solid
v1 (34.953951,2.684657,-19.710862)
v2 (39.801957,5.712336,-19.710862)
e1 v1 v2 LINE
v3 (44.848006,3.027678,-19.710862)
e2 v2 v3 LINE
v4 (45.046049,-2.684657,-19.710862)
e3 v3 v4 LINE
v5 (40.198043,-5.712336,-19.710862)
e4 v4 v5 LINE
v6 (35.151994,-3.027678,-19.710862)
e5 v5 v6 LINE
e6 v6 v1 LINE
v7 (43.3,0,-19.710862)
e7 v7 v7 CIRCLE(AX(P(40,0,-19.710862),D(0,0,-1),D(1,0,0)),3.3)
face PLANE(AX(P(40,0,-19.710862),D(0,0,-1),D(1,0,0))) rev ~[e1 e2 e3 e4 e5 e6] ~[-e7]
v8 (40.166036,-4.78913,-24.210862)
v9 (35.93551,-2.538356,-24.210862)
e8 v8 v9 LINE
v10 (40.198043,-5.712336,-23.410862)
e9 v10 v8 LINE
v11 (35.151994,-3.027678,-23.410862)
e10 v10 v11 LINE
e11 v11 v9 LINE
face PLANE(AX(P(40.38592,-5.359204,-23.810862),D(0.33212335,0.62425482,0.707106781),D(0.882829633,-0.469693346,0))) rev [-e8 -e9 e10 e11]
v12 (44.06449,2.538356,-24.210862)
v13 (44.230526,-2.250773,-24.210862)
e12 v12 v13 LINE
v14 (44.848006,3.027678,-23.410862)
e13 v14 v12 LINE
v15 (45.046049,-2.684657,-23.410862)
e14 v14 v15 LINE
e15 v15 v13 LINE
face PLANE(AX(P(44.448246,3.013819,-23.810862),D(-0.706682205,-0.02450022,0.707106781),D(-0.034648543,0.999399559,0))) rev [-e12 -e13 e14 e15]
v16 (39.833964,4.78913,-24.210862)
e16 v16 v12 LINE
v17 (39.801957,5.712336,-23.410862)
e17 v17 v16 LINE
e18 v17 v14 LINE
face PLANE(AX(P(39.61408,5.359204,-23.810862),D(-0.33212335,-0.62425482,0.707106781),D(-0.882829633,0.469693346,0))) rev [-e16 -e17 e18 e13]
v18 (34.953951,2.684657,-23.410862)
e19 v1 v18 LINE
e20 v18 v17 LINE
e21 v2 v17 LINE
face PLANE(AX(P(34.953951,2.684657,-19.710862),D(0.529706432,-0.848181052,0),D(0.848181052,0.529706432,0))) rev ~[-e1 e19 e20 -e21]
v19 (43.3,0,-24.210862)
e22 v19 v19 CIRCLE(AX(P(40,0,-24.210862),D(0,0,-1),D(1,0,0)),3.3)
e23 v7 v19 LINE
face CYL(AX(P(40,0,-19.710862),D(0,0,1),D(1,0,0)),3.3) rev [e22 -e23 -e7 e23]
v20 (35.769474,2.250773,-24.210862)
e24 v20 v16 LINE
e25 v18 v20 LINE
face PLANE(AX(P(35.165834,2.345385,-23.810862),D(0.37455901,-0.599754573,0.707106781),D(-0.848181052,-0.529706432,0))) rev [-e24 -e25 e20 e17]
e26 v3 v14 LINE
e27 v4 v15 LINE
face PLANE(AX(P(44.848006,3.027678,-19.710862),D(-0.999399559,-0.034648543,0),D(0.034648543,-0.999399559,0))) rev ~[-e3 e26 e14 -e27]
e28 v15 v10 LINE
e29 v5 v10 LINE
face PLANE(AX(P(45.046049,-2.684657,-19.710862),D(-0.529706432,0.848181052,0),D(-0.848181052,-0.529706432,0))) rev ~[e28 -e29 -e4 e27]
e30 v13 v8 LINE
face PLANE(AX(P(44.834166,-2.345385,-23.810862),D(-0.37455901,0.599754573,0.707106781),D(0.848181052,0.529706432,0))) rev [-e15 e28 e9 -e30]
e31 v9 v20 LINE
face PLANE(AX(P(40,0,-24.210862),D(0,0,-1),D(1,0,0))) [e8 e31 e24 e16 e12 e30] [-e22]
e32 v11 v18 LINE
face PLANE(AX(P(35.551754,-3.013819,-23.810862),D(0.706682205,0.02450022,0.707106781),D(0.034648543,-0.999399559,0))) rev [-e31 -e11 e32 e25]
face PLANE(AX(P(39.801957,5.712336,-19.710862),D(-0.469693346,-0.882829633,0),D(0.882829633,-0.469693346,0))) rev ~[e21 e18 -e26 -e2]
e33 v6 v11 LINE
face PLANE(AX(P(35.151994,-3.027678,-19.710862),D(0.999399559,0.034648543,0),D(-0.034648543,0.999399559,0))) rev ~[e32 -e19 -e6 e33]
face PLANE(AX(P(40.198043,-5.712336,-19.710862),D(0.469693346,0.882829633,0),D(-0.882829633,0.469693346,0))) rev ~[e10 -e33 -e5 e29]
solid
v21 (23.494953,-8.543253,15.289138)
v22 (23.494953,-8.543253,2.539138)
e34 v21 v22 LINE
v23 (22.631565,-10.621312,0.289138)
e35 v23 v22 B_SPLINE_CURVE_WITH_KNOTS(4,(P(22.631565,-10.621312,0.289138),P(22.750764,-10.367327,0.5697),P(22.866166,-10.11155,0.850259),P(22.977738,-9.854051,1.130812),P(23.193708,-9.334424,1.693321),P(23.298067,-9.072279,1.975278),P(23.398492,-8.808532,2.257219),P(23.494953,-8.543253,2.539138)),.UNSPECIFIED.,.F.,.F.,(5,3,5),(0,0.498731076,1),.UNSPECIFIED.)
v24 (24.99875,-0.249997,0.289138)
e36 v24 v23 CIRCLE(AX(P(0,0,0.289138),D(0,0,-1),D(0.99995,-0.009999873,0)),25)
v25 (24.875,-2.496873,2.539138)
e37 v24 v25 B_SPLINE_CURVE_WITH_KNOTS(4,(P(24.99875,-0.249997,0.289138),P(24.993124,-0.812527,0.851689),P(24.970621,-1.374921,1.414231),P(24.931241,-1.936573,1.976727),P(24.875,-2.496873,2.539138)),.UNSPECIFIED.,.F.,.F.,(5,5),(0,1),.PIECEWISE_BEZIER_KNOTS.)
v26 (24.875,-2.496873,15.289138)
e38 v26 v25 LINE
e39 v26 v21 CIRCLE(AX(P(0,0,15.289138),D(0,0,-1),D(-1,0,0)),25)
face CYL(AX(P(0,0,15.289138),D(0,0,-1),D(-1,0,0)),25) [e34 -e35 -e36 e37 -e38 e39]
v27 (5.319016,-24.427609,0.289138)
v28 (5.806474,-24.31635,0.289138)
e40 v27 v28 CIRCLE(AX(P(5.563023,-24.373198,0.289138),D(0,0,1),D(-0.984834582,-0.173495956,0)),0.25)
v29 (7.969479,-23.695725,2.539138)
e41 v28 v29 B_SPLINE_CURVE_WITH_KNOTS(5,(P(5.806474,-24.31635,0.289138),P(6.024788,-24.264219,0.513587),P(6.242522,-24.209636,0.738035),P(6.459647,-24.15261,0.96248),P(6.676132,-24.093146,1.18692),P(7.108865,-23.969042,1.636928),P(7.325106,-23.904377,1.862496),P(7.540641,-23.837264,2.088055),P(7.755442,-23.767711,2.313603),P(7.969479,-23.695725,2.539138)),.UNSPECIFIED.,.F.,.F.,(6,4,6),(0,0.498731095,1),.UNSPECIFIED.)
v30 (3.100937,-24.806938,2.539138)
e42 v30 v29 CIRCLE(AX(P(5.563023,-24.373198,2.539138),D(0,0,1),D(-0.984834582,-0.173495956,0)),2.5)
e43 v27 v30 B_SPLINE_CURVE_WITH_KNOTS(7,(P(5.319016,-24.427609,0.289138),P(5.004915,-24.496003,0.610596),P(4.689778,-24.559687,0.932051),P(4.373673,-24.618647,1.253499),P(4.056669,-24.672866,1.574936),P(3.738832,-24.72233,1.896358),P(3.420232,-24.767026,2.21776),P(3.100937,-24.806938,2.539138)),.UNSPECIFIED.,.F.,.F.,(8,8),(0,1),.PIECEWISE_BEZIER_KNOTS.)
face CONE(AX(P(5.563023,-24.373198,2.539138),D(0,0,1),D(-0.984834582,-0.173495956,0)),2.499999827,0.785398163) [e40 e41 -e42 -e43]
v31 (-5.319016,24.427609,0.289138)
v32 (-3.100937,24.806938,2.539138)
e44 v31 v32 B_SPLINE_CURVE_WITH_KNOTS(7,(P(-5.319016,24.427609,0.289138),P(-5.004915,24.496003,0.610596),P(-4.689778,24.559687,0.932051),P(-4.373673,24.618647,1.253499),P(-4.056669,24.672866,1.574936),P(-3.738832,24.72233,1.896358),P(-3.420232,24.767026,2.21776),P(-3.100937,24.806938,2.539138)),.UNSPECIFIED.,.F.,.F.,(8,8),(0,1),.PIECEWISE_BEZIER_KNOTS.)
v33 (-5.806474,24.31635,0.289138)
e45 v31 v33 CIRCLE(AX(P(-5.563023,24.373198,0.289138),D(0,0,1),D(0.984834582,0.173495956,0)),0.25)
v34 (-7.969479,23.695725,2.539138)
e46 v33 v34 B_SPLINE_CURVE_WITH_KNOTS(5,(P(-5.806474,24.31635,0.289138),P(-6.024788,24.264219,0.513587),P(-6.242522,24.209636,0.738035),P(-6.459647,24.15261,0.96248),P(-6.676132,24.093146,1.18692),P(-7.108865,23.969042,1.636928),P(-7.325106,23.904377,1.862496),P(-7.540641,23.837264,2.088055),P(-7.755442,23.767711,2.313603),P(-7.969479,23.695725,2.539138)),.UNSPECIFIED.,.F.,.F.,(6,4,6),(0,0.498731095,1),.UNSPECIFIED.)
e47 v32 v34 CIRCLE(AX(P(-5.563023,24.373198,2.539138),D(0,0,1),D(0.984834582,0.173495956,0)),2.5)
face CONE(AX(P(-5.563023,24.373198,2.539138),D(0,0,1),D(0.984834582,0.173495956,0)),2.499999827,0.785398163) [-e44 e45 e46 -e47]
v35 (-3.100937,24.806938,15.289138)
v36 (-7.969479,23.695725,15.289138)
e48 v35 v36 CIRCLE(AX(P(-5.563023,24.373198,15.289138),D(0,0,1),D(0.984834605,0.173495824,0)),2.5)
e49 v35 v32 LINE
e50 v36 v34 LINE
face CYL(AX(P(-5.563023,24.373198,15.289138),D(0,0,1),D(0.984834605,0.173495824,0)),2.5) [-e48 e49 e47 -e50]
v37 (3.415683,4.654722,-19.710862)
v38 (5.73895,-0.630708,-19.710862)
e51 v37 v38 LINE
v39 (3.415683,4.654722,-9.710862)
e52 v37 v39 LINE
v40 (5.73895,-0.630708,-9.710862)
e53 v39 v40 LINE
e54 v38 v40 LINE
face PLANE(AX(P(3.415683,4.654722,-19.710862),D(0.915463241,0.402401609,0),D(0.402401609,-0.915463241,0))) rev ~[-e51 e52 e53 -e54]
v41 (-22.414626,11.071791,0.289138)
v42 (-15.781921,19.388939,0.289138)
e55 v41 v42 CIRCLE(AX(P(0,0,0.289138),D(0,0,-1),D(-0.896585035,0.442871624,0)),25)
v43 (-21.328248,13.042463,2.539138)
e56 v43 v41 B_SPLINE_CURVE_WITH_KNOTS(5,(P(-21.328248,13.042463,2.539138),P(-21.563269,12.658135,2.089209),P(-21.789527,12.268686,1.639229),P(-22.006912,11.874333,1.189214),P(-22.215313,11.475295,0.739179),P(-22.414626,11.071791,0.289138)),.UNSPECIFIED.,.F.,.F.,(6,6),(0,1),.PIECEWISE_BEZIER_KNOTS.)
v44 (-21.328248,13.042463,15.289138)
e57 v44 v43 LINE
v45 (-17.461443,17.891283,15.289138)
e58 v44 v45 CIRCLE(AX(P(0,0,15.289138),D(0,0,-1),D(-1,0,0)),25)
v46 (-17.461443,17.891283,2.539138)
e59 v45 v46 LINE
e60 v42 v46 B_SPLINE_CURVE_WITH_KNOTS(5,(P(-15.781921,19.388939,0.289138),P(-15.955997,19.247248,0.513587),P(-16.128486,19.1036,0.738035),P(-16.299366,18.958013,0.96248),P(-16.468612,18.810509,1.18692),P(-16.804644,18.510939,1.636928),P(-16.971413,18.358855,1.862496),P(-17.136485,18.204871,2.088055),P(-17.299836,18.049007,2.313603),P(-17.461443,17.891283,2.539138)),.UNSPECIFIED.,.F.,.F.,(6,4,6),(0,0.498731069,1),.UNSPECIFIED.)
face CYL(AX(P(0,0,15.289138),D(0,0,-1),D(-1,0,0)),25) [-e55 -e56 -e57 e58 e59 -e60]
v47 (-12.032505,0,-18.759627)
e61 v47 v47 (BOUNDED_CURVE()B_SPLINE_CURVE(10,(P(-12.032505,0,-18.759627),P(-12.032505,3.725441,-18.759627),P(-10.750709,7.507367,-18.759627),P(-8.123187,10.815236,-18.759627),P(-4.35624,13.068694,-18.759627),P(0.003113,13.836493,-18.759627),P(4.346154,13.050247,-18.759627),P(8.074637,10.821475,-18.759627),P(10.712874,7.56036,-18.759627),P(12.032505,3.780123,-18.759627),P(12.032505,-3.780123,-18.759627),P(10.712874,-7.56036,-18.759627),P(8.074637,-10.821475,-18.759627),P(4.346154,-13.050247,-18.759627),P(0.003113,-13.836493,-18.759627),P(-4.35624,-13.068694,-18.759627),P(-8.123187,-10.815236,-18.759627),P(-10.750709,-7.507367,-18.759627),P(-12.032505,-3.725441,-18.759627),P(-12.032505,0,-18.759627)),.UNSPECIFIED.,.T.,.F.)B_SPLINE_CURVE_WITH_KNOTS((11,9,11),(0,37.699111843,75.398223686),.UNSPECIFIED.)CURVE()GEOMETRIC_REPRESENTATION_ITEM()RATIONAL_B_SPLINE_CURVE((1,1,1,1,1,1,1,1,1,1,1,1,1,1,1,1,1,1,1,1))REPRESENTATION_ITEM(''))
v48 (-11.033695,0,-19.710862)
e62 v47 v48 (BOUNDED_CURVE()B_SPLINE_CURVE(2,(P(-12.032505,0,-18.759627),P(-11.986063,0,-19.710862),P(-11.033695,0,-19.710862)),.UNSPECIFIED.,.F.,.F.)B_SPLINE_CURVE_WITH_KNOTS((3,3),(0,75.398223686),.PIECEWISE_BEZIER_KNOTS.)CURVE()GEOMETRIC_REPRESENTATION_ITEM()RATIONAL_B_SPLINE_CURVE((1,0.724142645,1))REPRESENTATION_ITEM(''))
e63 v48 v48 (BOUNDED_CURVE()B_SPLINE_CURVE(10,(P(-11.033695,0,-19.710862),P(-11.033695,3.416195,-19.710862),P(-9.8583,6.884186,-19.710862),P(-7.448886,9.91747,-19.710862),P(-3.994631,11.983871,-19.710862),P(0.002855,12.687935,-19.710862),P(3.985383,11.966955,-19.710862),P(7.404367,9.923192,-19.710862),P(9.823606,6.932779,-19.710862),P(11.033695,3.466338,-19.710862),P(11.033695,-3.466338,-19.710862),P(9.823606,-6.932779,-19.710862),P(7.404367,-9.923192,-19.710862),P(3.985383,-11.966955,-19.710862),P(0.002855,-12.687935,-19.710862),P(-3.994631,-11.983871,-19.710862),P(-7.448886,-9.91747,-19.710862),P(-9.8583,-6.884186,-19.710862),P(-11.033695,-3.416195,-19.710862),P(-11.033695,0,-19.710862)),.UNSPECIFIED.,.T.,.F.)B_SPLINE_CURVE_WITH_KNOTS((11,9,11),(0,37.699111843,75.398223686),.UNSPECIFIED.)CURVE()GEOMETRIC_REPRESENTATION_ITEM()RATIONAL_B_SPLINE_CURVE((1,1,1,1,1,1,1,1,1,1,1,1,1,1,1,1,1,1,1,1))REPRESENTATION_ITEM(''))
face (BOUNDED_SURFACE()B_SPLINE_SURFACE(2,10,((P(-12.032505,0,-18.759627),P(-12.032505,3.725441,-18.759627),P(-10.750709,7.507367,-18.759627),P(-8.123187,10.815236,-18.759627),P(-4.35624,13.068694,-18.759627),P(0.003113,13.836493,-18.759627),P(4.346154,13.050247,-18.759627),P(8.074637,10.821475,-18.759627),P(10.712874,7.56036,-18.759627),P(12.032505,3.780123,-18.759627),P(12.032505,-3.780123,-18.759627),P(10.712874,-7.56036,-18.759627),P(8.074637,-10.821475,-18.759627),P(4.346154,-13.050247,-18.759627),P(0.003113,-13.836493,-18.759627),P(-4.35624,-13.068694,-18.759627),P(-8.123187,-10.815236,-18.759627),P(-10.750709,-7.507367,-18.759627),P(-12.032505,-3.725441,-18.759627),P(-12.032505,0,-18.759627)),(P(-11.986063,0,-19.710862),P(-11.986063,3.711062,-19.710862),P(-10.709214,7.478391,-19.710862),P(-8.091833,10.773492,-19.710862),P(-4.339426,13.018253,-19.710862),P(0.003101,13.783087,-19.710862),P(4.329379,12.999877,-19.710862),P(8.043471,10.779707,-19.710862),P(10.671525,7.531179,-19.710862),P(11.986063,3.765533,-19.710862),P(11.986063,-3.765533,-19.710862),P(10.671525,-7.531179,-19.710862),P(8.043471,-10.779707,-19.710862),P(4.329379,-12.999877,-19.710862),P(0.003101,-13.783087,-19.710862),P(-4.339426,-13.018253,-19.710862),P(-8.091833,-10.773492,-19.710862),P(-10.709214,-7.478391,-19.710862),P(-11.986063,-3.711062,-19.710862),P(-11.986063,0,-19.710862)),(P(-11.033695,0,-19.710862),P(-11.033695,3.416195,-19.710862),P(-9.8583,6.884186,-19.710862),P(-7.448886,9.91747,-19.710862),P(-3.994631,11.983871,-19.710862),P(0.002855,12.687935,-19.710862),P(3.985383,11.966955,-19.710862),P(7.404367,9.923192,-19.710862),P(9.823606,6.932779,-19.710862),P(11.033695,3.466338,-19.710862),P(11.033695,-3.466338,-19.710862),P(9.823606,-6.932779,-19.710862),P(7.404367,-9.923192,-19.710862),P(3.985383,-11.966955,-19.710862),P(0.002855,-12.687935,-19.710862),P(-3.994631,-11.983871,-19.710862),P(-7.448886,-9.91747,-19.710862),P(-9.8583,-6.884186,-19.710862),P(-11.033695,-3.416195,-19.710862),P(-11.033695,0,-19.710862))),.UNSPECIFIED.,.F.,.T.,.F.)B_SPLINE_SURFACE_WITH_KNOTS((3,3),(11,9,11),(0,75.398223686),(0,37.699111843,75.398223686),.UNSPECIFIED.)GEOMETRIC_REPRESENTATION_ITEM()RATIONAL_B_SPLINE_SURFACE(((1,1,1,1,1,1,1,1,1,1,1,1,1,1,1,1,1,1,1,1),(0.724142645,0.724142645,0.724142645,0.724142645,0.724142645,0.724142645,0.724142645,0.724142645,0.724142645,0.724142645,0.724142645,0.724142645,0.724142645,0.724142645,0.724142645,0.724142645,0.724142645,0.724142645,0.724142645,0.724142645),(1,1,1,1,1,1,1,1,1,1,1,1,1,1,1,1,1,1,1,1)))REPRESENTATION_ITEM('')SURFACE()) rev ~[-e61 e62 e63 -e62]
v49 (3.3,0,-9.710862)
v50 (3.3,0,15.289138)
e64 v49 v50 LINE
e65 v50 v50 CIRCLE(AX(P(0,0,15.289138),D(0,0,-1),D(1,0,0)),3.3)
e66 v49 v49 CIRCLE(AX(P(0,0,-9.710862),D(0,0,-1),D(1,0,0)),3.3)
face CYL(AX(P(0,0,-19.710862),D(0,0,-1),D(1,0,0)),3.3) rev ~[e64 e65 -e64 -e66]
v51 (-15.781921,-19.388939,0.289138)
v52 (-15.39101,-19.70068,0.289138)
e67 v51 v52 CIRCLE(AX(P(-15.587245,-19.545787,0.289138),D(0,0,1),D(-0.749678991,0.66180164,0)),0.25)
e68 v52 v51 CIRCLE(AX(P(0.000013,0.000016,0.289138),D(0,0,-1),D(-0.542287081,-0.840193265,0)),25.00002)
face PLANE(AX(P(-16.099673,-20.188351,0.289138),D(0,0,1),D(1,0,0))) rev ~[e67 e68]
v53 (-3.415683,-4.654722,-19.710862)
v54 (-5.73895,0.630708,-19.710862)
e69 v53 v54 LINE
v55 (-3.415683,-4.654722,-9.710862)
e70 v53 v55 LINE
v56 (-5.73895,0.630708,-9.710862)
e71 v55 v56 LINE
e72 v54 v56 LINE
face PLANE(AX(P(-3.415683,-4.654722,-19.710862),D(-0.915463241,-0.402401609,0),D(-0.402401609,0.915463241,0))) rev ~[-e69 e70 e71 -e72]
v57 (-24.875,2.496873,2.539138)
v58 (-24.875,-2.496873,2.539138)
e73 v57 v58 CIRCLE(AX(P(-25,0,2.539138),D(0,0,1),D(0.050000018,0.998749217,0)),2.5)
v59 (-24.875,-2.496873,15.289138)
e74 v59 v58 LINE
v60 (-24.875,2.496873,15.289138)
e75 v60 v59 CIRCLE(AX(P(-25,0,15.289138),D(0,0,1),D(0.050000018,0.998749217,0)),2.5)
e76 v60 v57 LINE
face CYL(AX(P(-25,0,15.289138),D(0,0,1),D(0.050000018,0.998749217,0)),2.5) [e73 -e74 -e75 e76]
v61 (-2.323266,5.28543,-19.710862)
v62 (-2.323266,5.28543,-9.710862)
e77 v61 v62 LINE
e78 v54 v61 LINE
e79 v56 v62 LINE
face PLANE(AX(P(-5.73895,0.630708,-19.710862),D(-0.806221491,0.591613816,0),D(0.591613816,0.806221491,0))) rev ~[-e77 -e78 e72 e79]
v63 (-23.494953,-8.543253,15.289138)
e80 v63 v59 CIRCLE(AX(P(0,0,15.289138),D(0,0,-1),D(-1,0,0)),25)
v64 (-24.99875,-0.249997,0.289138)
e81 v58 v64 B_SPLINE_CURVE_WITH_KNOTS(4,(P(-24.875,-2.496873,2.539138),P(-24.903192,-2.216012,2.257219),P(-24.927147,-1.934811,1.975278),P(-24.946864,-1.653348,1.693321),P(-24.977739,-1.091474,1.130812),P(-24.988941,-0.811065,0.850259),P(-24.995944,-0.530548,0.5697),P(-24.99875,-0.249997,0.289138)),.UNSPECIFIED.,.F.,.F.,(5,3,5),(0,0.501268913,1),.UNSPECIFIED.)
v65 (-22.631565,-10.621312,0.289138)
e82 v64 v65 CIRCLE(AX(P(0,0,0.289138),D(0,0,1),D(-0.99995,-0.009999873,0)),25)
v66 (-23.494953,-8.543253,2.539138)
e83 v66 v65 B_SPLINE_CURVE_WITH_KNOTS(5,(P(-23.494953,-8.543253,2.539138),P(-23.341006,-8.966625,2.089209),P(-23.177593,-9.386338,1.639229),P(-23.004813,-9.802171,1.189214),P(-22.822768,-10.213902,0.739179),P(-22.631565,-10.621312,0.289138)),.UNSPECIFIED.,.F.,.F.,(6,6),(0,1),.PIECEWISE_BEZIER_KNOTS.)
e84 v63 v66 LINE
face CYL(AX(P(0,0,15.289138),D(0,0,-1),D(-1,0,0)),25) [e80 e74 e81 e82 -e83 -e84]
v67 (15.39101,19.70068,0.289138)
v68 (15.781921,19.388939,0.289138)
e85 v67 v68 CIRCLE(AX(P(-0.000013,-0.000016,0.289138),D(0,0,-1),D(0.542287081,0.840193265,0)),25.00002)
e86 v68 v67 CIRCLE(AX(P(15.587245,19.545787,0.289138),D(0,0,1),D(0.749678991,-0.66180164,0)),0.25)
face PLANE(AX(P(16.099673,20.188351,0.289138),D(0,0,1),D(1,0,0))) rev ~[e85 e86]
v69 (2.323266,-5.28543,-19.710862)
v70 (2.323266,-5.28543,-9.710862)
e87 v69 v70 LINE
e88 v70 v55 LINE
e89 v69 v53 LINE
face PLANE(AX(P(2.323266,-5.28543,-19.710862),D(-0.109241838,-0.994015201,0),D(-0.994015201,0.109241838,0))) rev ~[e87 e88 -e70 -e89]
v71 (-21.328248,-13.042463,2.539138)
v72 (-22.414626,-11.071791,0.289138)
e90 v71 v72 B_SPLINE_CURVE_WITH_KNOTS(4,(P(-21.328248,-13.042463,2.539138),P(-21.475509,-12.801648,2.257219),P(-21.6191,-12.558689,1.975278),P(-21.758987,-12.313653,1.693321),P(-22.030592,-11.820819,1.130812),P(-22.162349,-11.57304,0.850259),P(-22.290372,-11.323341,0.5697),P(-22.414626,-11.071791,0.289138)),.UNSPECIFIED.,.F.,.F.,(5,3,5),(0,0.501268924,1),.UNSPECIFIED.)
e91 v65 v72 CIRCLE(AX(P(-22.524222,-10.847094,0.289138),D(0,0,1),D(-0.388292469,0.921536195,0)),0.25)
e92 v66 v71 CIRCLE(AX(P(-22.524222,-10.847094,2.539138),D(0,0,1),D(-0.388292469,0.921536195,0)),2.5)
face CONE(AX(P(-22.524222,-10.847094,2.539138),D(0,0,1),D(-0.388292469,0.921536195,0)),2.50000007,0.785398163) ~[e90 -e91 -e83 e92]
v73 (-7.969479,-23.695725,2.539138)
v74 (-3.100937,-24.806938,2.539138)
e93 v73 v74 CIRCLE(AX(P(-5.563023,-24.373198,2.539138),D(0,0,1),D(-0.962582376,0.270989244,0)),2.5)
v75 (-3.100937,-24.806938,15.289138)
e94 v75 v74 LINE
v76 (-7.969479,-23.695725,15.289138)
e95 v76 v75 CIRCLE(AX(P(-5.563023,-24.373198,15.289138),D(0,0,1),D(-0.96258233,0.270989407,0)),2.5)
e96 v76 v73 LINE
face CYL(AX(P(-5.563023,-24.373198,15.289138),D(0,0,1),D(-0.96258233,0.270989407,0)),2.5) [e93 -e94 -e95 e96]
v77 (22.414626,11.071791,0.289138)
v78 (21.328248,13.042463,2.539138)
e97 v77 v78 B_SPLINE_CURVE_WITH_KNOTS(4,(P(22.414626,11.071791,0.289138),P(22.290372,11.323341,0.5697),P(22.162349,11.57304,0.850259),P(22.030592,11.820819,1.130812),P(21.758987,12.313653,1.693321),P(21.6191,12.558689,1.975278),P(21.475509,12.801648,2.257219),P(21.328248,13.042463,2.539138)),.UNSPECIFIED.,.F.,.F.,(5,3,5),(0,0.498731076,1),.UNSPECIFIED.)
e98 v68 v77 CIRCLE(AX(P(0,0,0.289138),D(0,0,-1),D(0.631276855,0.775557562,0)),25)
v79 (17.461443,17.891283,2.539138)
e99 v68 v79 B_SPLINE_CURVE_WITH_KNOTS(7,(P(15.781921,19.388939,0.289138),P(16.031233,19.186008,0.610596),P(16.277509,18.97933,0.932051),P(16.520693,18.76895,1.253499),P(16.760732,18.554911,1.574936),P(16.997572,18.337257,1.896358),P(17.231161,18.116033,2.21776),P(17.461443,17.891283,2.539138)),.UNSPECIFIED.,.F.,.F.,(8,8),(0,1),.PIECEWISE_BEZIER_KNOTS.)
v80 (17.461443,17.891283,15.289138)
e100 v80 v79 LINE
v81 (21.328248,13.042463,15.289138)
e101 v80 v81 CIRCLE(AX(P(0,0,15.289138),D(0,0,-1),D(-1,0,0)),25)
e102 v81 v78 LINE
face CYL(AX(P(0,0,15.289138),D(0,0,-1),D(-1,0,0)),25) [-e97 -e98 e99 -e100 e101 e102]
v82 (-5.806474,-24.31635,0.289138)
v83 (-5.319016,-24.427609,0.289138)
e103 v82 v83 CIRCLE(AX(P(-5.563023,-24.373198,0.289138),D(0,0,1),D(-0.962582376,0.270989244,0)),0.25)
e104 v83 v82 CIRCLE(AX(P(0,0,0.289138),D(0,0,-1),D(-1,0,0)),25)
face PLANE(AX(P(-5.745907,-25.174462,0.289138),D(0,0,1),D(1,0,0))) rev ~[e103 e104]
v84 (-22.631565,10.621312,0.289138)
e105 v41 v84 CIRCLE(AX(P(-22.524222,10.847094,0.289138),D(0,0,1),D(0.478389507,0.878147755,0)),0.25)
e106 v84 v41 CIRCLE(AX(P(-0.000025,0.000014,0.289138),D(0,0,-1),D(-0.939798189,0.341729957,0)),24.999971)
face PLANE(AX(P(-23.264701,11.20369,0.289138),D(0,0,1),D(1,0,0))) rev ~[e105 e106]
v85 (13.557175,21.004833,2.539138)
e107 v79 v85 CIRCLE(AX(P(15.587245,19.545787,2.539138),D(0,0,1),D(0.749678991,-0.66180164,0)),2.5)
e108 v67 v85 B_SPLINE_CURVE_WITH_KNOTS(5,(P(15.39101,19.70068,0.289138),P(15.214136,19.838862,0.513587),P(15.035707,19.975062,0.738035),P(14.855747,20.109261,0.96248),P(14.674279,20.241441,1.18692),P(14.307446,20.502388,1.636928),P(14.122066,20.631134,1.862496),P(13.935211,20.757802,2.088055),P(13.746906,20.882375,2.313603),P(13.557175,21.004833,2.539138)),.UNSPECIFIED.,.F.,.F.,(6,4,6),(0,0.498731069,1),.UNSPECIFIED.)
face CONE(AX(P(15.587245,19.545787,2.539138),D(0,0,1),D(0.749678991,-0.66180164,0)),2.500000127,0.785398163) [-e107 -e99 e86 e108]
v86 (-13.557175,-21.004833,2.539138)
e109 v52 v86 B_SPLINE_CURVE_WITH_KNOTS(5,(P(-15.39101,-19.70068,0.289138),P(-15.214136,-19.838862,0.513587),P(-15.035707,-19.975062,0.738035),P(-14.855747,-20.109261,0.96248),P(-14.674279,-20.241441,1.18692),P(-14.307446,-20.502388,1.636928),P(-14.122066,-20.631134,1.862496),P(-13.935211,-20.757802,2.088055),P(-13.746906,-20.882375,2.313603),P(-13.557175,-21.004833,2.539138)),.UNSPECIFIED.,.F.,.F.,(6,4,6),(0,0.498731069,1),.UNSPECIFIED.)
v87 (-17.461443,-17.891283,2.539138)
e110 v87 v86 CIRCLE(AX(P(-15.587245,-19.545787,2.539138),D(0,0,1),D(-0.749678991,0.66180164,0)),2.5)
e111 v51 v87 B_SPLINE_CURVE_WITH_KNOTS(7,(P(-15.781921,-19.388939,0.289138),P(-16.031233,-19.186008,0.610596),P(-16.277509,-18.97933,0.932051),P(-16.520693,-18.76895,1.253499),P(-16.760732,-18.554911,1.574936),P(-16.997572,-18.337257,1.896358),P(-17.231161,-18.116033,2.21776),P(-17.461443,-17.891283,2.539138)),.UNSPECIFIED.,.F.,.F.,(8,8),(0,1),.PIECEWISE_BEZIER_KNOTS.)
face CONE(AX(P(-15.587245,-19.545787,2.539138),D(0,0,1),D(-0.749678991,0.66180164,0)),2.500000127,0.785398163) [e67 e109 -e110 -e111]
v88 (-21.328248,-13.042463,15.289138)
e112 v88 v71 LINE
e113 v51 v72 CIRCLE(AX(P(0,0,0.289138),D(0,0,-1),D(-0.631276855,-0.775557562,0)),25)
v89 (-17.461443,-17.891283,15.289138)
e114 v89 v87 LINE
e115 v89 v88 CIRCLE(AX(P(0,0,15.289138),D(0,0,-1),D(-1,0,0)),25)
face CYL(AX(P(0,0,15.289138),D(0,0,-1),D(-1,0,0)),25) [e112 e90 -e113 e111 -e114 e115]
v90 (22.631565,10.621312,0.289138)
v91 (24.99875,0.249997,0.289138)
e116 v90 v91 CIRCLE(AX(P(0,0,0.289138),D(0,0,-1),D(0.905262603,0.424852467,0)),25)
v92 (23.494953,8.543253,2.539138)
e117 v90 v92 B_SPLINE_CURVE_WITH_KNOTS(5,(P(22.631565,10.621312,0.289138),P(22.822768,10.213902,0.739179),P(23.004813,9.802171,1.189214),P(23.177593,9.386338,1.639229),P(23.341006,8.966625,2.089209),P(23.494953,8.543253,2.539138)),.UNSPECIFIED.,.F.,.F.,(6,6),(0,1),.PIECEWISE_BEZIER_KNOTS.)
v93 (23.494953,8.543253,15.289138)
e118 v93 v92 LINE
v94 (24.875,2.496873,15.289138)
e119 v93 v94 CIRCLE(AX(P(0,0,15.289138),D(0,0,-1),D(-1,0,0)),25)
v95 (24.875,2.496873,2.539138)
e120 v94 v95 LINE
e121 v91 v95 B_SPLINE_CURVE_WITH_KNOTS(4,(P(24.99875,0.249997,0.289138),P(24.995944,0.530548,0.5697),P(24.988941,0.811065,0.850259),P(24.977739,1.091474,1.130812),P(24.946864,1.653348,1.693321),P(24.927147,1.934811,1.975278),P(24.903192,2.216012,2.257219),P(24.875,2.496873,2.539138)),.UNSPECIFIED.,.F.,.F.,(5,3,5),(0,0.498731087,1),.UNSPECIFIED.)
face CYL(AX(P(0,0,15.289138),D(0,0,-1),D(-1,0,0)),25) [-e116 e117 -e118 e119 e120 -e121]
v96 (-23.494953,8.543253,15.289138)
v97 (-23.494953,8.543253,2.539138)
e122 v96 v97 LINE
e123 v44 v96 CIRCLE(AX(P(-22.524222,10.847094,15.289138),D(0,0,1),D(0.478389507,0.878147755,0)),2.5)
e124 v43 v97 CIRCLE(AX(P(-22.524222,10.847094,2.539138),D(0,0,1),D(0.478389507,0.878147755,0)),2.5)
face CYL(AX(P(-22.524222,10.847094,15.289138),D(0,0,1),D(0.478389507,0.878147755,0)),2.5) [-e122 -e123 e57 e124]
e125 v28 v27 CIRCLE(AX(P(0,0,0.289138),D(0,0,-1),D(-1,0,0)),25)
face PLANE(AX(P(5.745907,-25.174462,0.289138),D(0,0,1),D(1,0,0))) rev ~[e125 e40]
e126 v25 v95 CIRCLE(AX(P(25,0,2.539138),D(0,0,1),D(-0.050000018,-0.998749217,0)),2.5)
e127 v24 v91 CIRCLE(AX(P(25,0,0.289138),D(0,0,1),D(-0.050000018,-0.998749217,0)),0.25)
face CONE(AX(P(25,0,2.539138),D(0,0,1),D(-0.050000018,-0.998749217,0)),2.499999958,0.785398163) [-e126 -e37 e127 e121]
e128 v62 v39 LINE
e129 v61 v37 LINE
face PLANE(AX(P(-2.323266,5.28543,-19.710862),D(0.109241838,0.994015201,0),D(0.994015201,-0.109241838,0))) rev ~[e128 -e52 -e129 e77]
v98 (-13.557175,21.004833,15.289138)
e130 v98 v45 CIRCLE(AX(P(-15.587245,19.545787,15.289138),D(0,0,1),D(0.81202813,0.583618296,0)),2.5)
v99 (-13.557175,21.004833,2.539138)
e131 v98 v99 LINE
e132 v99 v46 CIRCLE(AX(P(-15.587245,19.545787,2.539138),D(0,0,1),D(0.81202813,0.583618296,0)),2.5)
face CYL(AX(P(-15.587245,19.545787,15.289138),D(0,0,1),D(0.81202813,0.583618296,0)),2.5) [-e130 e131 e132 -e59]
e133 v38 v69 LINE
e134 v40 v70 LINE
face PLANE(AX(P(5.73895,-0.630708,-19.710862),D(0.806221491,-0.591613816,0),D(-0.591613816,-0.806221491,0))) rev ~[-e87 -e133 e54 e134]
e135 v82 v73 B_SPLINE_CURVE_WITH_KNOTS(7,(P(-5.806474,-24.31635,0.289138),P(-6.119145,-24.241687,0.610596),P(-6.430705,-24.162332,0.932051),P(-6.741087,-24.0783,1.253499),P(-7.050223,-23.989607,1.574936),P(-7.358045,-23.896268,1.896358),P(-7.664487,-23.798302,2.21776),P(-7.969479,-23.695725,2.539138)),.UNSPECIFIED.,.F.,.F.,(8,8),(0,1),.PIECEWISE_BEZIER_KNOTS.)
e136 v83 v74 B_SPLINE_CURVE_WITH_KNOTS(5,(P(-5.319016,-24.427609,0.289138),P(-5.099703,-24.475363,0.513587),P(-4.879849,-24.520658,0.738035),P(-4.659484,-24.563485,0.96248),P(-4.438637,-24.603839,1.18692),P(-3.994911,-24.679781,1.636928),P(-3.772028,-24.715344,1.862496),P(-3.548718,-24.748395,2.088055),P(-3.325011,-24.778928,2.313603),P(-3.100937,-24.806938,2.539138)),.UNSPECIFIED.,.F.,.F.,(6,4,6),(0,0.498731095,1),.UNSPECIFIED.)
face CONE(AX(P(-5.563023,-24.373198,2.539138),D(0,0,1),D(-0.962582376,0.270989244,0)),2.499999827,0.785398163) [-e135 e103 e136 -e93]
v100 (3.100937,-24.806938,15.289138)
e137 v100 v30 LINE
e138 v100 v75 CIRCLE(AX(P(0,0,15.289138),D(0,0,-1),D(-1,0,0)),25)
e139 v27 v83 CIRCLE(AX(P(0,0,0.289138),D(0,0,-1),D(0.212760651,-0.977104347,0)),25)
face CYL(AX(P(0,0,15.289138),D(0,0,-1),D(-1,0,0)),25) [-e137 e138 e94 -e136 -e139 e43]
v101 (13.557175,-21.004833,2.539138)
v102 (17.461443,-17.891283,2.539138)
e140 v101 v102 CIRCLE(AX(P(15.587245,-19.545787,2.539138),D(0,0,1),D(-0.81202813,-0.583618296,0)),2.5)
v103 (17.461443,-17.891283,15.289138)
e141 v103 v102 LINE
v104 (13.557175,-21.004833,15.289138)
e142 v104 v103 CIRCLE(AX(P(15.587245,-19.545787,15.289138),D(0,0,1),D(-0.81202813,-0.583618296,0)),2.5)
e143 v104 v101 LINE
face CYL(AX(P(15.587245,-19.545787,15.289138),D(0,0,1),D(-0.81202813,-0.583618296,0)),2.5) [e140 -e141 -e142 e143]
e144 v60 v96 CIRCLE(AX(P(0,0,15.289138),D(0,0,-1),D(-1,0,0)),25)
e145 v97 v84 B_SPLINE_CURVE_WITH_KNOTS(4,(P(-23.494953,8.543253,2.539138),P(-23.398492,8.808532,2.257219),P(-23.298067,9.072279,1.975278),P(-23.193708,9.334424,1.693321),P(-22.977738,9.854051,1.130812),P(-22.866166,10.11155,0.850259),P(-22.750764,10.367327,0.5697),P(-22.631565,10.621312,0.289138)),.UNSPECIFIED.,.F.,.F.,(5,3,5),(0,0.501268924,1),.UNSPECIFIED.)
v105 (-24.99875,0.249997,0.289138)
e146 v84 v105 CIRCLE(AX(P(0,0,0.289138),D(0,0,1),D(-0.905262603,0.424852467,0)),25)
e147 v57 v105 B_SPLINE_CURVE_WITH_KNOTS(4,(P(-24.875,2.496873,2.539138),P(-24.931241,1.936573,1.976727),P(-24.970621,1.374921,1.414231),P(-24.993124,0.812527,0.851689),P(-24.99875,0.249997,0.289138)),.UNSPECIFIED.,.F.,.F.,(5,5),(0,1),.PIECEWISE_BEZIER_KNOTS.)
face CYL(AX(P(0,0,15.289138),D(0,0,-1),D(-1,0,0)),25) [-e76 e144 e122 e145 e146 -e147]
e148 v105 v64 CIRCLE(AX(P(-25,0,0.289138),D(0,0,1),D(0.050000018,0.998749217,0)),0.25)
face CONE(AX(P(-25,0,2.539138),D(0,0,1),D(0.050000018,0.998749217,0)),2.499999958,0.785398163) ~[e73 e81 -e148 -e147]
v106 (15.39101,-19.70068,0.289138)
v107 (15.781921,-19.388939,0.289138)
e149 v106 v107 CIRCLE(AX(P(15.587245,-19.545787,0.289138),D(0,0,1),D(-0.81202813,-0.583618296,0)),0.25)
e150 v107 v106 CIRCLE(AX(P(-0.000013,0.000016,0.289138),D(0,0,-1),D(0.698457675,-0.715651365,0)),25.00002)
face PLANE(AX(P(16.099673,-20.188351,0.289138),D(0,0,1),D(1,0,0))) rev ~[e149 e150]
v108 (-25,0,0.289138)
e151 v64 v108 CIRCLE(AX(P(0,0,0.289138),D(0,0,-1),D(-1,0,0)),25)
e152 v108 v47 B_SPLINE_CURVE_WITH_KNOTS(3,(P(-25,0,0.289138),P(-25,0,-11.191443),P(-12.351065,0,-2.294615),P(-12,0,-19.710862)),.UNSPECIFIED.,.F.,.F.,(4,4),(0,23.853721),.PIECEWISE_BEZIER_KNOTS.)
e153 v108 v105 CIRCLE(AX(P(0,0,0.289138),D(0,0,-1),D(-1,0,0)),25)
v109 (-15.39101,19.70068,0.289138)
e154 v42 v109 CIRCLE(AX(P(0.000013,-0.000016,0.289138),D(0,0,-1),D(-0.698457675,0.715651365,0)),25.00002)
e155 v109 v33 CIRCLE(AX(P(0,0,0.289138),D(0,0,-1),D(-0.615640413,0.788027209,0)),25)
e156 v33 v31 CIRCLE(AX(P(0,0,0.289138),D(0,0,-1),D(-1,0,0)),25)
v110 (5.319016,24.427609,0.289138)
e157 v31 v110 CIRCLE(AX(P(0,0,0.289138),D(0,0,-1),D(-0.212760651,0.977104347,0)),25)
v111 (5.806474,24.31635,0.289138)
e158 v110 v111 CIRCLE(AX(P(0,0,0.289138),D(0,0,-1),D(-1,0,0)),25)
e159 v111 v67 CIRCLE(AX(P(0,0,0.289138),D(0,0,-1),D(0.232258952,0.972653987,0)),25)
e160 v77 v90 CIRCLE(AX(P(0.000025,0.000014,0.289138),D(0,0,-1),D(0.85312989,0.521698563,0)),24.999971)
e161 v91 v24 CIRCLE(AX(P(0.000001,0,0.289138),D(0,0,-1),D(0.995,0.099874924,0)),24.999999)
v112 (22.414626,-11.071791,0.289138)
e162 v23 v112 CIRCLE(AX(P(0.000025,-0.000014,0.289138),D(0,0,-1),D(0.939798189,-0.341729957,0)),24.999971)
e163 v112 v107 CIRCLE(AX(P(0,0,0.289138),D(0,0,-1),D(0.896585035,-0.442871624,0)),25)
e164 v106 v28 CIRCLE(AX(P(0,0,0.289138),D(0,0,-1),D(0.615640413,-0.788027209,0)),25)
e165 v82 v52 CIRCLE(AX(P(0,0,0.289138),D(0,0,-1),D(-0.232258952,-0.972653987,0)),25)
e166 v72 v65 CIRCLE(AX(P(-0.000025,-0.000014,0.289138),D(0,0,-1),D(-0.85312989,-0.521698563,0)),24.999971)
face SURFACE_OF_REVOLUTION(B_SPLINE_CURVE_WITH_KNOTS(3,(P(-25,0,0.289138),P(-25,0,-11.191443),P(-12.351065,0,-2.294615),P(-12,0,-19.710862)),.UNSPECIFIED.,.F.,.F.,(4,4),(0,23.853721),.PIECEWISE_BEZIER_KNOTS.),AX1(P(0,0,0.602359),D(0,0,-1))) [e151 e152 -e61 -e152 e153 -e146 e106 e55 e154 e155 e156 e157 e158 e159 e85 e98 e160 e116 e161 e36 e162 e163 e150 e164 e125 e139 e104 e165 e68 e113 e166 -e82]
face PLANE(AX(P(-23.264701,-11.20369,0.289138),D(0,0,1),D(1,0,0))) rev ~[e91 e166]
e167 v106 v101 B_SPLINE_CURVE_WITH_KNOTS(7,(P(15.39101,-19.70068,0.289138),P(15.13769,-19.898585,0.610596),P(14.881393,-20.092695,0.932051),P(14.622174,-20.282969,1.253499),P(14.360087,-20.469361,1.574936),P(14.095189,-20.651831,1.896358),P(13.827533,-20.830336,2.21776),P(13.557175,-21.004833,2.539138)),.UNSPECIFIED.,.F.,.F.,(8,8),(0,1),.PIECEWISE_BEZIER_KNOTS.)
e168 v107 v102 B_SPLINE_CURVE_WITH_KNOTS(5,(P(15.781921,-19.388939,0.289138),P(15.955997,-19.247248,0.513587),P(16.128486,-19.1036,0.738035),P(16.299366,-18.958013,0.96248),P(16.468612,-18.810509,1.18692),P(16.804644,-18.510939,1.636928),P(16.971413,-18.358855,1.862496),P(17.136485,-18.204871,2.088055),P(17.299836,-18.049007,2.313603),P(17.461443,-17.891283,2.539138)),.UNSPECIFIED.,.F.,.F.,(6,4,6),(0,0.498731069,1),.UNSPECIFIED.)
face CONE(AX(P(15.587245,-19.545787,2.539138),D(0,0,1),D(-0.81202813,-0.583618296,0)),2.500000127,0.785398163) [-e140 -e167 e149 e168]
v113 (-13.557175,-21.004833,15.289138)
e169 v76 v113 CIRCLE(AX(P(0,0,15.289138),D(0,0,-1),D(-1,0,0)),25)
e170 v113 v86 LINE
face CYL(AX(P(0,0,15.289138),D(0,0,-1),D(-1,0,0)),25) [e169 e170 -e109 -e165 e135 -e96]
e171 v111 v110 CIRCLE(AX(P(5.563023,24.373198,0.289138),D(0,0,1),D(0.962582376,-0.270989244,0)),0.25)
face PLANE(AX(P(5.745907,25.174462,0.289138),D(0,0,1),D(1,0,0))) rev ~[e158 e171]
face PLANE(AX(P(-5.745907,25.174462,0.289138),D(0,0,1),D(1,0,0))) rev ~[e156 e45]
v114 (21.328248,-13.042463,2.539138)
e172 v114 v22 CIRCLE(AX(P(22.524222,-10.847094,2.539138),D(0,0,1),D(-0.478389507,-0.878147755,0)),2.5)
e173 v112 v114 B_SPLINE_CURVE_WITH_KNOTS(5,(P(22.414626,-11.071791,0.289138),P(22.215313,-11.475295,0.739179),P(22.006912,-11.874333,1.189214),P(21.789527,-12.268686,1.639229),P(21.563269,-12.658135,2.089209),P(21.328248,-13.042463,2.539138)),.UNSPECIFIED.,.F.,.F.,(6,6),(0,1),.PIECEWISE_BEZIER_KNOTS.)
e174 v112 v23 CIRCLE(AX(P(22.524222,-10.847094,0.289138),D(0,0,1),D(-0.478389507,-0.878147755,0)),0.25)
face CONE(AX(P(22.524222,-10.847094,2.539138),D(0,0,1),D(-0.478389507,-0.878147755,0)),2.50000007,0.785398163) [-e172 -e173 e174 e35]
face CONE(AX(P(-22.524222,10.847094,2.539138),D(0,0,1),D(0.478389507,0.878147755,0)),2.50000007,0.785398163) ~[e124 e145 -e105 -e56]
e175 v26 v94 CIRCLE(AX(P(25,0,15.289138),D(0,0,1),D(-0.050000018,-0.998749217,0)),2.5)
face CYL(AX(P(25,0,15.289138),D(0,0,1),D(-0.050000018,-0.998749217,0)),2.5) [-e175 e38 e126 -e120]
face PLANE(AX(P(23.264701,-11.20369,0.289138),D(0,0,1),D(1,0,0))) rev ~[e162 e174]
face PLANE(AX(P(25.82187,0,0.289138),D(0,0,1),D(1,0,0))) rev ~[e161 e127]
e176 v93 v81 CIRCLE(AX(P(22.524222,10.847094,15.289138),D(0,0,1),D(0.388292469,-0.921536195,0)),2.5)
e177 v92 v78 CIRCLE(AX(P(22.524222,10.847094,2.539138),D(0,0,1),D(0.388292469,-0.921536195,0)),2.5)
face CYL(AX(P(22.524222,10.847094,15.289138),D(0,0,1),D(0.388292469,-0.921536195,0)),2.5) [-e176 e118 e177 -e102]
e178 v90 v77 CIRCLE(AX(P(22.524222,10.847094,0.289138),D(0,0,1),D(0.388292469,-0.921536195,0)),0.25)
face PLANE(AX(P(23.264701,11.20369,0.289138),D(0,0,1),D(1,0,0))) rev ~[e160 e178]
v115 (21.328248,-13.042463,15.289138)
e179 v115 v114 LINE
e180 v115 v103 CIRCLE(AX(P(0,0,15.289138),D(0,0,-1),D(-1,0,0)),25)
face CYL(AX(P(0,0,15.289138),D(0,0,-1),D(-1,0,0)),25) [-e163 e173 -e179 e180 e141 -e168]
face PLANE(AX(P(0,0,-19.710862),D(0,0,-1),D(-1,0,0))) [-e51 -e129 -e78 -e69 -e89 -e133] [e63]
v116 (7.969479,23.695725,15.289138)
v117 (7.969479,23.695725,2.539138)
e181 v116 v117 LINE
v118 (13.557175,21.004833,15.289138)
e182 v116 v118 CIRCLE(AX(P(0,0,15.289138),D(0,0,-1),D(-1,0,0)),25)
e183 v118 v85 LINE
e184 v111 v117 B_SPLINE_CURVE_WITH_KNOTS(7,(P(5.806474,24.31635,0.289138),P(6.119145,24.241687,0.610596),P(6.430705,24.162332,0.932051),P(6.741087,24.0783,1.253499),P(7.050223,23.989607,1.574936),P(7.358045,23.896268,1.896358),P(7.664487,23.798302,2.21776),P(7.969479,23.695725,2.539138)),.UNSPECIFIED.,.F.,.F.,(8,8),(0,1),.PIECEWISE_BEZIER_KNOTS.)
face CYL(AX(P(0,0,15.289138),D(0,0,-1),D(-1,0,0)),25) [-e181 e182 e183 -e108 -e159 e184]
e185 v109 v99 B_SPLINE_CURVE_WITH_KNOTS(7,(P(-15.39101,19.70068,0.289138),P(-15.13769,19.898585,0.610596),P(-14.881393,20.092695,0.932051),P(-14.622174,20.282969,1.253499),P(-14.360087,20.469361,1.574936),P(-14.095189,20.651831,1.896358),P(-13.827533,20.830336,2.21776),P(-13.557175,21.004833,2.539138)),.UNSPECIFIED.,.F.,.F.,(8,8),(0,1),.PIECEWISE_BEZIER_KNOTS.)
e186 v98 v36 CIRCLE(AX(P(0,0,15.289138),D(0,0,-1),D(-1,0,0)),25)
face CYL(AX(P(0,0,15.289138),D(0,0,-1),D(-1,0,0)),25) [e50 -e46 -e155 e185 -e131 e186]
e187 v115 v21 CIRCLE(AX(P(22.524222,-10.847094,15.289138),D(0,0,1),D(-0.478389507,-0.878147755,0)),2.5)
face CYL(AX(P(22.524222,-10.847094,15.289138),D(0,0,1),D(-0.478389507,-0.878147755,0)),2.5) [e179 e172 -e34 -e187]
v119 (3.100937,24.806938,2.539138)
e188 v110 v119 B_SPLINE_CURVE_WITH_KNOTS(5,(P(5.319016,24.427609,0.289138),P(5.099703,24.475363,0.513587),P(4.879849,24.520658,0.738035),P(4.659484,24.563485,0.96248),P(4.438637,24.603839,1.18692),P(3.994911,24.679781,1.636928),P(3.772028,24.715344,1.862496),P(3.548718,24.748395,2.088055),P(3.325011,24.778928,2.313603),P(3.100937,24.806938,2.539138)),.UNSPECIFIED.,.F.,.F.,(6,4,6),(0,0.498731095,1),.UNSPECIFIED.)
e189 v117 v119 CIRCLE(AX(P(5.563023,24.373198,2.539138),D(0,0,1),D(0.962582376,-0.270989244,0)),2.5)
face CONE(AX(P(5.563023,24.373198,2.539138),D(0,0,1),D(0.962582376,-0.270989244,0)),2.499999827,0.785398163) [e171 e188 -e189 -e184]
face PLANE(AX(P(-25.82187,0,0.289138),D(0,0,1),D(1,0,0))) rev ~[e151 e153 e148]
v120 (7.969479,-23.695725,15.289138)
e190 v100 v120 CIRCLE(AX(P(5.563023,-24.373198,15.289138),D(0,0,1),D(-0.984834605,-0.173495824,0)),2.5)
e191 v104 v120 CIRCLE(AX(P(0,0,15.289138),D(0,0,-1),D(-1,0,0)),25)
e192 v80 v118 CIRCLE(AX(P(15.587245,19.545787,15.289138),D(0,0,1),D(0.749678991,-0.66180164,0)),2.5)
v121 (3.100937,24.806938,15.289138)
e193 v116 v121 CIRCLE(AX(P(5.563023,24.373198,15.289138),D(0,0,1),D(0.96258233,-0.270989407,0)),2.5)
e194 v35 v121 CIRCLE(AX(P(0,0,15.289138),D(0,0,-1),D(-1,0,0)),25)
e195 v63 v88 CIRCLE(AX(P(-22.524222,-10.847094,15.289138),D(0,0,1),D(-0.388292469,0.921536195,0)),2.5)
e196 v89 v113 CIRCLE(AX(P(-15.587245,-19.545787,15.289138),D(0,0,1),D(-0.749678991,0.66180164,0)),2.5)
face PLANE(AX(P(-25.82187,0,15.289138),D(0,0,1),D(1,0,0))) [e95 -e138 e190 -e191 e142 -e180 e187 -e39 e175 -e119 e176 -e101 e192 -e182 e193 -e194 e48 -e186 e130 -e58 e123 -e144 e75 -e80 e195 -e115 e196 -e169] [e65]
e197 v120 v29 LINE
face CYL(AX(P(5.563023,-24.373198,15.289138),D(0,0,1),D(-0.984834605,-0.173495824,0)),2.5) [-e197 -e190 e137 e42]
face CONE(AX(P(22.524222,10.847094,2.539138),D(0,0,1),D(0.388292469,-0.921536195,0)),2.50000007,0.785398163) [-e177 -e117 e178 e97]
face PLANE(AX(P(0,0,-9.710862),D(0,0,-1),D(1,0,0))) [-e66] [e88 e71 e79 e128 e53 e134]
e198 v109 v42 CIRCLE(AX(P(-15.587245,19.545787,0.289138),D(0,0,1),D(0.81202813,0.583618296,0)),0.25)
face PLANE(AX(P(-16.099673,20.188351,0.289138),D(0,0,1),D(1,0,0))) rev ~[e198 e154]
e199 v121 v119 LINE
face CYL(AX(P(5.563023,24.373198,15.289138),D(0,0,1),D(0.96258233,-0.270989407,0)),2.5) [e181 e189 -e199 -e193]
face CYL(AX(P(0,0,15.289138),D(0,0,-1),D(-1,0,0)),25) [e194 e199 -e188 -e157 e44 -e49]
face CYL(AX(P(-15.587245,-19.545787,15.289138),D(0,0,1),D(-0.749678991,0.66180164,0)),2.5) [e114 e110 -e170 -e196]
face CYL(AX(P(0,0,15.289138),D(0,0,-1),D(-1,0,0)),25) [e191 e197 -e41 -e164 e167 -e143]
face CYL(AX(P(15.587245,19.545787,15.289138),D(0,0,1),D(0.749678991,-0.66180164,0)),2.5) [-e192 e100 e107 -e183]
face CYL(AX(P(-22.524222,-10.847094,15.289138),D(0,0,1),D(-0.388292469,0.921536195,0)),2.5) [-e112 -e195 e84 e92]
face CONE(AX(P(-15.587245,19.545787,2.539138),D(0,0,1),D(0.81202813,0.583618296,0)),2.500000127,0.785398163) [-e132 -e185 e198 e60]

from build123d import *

# Parameters (mm, degrees)
F2_R      = 3.3
F3_DEPTH  = 35
F5_DEPTH  = 10
F7_DEPTH  = 15
F8_SIZE   = 2.25
F9_R      = 1
F10_R     = 3.3
F11_DEPTH = 4.5
F12_SIZE  = 0.8


with BuildPart() as f1:
    # F0 (on Front) → F1 (revolve)
    with BuildSketch(Plane.XZ):
        with BuildLine():
            Line((-12, -19.710862), (0, -19.710862))
            Line((0, -19.710862), (0, 15.289138))
            Line((0, 15.289138), (-25, 15.289138))
            Line((-25, 15.289138), (-25, 0.289138))
            add(Edge.make_bspline(
                [(-25, 0.289138), (-25, -11.191443), (-12.351065, -2.294615), (-12, -19.710862)],
                knots=[0, 0, 0, 0, 23.853721, 23.853721, 23.853721, 23.853721], degree=3))
        make_face()
    revolve(axis=Axis((0, 0, 0.602359), (0, 0, -1)))

    # F2 (on face) → F3 (cut, through all)
    with BuildSketch(Plane(origin=(0, 0, -19.710862), x_dir=(1, 0, 0), z_dir=(0, 0, -1))):
        Circle(F2_R)
    extrude(amount=-F3_DEPTH, mode=Mode.SUBTRACT)

    # F4 (on face) → F5 (cut)
    with BuildSketch(Plane(origin=(0, 0, -19.710862), x_dir=(1, 0, 0), z_dir=(0, 0, -1))):
        Polygon((3.415683, -4.654722), (5.73895, 0.630708), (2.323266, 5.28543), (-3.415683, 4.654722), (-5.73895, -0.630708), (-2.323266, -5.28543), align=None)
    extrude(amount=-F5_DEPTH, mode=Mode.SUBTRACT)

    # F6 (on face) → F7 (join)
    with BuildSketch(Plane.XY.offset(15.289138)):
        with BuildLine():
            ThreePointArc((-24.875, -2.496873), (-25, 0), (-24.875, 2.496873))
            ThreePointArc((-24.875, 2.496873), (-27.5, 0), (-24.875, -2.496873))
        make_face()
        with BuildLine():
            ThreePointArc((-21.328248, -13.042463), (-22.524222, -10.847093), (-23.494953, -8.543253))
            ThreePointArc((-23.494953, -8.543253), (-24.776644, -11.931803), (-21.328248, -13.042463))
        make_face()
        with BuildLine():
            ThreePointArc((-13.557175, -21.004833), (-15.587245, -19.545787), (-17.461443, -17.891283))
            ThreePointArc((-17.461443, -17.891283), (-17.14597, -21.500366), (-13.557175, -21.004833))
        make_face()
        with BuildLine():
            ThreePointArc((-3.100937, -24.806938), (-5.563023, -24.373198), (-7.969479, -23.695725))
            ThreePointArc((-7.969479, -23.695725), (-6.119326, -26.810518), (-3.100937, -24.806938))
        make_face()
        with BuildLine():
            ThreePointArc((7.969479, -23.695725), (5.563023, -24.373198), (3.100937, -24.806938))
            ThreePointArc((3.100937, -24.806938), (6.119326, -26.810518), (7.969479, -23.695725))
        make_face()
        with BuildLine():
            ThreePointArc((17.461443, -17.891283), (15.587245, -19.545787), (13.557175, -21.004833))
            ThreePointArc((13.557175, -21.004833), (17.14597, -21.500366), (17.461443, -17.891283))
        make_face()
        with BuildLine():
            ThreePointArc((23.494953, -8.543253), (22.524222, -10.847093), (21.328248, -13.042463))
            ThreePointArc((21.328248, -13.042463), (24.776644, -11.931803), (23.494953, -8.543253))
        make_face()
        with BuildLine():
            ThreePointArc((24.875, 2.496873), (25, 0), (24.875, -2.496873))
            ThreePointArc((24.875, -2.496873), (27.5, 0), (24.875, 2.496873))
        make_face()
        with BuildLine():
            ThreePointArc((21.328248, 13.042463), (22.524222, 10.847093), (23.494953, 8.543253))
            ThreePointArc((23.494953, 8.543253), (24.776644, 11.931803), (21.328248, 13.042463))
        make_face()
        with BuildLine():
            ThreePointArc((13.557175, 21.004833), (15.587245, 19.545787), (17.461443, 17.891283))
            ThreePointArc((17.461443, 17.891283), (17.14597, 21.500366), (13.557175, 21.004833))
        make_face()
        with BuildLine():
            ThreePointArc((3.100937, 24.806938), (5.563023, 24.373198), (7.969479, 23.695725))
            ThreePointArc((7.969479, 23.695725), (6.119326, 26.810518), (3.100937, 24.806938))
        make_face()
        with BuildLine():
            ThreePointArc((-7.969479, 23.695725), (-5.563023, 24.373198), (-3.100937, 24.806938))
            ThreePointArc((-3.100937, 24.806938), (-6.119326, 26.810518), (-7.969479, 23.695725))
        make_face()
        with BuildLine():
            ThreePointArc((-17.461443, 17.891283), (-15.587245, 19.545787), (-13.557175, 21.004833))
            ThreePointArc((-13.557175, 21.004833), (-17.14597, 21.500366), (-17.461443, 17.891283))
        make_face()
        with BuildLine():
            ThreePointArc((-23.494953, 8.543253), (-22.524222, 10.847093), (-21.328248, 13.042463))
            ThreePointArc((-21.328248, 13.042463), (-24.776644, 11.931803), (-23.494953, 8.543253))
        make_face()
    extrude(amount=-F7_DEPTH)

    # F8
    f8_edges = [f1.edges().sort_by_distance(p)[0] for p in [
        (-27.5, 0, 0.289138),
        (-24.776644, 11.931803, 0.289138),
        (-17.14597, 21.500366, 0.289138),
        (-6.119326, 26.810518, 0.289138),
        (6.119326, 26.810518, 0.289138),
        (17.14597, 21.500366, 0.289138),
        (24.776644, 11.931803, 0.289138),
        (27.5, 0, 0.289138),
        (24.776644, -11.931803, 0.289138),
        (17.14597, -21.500366, 0.289138),
        (6.119326, -26.810518, 0.289138),
        (-6.119326, -26.810518, 0.289138),
        (-17.14597, -21.500366, 0.289138),
        (-24.776644, -11.931803, 0.289138),
    ]]
    chamfer(f8_edges, length=F8_SIZE)

    # F9
    f9_edges = [f1.edges().sort_by_distance(p)[0] for p in [
        (12, 0, -19.710862),
    ]]
    fillet(f9_edges, radius=F9_R)


with BuildPart() as f11:
    # F10 (on face) → F11 (new body)
    with BuildSketch(Plane(origin=(0, 0, -19.710862), x_dir=(1, 0, 0), z_dir=(0, 0, -1))):
        Polygon((40.198043, 5.712336), (35.151994, 3.027678), (34.953951, -2.684657), (39.801957, -5.712336), (44.848006, -3.027678), (45.046049, 2.684657), align=None)
        with Locations((40, 0)):
            Circle(F10_R, mode=Mode.SUBTRACT)
    extrude(amount=F11_DEPTH)

    # F12
    f12_edges = [f11.edges().sort_by_distance(p)[0] for p in [
        (42.622046, -4.198497, -24.210862),
        (44.947028, 0.17151, -24.210862),
        (42.324982, 4.370007, -24.210862),
        (37.377954, 4.198497, -24.210862),
        (35.052972, -0.17151, -24.210862),
        (37.675018, -4.370007, -24.210862),
    ]]
    chamfer(f12_edges, length=F12_SIZE)


solid = Compound([f1.part, f11.part])
